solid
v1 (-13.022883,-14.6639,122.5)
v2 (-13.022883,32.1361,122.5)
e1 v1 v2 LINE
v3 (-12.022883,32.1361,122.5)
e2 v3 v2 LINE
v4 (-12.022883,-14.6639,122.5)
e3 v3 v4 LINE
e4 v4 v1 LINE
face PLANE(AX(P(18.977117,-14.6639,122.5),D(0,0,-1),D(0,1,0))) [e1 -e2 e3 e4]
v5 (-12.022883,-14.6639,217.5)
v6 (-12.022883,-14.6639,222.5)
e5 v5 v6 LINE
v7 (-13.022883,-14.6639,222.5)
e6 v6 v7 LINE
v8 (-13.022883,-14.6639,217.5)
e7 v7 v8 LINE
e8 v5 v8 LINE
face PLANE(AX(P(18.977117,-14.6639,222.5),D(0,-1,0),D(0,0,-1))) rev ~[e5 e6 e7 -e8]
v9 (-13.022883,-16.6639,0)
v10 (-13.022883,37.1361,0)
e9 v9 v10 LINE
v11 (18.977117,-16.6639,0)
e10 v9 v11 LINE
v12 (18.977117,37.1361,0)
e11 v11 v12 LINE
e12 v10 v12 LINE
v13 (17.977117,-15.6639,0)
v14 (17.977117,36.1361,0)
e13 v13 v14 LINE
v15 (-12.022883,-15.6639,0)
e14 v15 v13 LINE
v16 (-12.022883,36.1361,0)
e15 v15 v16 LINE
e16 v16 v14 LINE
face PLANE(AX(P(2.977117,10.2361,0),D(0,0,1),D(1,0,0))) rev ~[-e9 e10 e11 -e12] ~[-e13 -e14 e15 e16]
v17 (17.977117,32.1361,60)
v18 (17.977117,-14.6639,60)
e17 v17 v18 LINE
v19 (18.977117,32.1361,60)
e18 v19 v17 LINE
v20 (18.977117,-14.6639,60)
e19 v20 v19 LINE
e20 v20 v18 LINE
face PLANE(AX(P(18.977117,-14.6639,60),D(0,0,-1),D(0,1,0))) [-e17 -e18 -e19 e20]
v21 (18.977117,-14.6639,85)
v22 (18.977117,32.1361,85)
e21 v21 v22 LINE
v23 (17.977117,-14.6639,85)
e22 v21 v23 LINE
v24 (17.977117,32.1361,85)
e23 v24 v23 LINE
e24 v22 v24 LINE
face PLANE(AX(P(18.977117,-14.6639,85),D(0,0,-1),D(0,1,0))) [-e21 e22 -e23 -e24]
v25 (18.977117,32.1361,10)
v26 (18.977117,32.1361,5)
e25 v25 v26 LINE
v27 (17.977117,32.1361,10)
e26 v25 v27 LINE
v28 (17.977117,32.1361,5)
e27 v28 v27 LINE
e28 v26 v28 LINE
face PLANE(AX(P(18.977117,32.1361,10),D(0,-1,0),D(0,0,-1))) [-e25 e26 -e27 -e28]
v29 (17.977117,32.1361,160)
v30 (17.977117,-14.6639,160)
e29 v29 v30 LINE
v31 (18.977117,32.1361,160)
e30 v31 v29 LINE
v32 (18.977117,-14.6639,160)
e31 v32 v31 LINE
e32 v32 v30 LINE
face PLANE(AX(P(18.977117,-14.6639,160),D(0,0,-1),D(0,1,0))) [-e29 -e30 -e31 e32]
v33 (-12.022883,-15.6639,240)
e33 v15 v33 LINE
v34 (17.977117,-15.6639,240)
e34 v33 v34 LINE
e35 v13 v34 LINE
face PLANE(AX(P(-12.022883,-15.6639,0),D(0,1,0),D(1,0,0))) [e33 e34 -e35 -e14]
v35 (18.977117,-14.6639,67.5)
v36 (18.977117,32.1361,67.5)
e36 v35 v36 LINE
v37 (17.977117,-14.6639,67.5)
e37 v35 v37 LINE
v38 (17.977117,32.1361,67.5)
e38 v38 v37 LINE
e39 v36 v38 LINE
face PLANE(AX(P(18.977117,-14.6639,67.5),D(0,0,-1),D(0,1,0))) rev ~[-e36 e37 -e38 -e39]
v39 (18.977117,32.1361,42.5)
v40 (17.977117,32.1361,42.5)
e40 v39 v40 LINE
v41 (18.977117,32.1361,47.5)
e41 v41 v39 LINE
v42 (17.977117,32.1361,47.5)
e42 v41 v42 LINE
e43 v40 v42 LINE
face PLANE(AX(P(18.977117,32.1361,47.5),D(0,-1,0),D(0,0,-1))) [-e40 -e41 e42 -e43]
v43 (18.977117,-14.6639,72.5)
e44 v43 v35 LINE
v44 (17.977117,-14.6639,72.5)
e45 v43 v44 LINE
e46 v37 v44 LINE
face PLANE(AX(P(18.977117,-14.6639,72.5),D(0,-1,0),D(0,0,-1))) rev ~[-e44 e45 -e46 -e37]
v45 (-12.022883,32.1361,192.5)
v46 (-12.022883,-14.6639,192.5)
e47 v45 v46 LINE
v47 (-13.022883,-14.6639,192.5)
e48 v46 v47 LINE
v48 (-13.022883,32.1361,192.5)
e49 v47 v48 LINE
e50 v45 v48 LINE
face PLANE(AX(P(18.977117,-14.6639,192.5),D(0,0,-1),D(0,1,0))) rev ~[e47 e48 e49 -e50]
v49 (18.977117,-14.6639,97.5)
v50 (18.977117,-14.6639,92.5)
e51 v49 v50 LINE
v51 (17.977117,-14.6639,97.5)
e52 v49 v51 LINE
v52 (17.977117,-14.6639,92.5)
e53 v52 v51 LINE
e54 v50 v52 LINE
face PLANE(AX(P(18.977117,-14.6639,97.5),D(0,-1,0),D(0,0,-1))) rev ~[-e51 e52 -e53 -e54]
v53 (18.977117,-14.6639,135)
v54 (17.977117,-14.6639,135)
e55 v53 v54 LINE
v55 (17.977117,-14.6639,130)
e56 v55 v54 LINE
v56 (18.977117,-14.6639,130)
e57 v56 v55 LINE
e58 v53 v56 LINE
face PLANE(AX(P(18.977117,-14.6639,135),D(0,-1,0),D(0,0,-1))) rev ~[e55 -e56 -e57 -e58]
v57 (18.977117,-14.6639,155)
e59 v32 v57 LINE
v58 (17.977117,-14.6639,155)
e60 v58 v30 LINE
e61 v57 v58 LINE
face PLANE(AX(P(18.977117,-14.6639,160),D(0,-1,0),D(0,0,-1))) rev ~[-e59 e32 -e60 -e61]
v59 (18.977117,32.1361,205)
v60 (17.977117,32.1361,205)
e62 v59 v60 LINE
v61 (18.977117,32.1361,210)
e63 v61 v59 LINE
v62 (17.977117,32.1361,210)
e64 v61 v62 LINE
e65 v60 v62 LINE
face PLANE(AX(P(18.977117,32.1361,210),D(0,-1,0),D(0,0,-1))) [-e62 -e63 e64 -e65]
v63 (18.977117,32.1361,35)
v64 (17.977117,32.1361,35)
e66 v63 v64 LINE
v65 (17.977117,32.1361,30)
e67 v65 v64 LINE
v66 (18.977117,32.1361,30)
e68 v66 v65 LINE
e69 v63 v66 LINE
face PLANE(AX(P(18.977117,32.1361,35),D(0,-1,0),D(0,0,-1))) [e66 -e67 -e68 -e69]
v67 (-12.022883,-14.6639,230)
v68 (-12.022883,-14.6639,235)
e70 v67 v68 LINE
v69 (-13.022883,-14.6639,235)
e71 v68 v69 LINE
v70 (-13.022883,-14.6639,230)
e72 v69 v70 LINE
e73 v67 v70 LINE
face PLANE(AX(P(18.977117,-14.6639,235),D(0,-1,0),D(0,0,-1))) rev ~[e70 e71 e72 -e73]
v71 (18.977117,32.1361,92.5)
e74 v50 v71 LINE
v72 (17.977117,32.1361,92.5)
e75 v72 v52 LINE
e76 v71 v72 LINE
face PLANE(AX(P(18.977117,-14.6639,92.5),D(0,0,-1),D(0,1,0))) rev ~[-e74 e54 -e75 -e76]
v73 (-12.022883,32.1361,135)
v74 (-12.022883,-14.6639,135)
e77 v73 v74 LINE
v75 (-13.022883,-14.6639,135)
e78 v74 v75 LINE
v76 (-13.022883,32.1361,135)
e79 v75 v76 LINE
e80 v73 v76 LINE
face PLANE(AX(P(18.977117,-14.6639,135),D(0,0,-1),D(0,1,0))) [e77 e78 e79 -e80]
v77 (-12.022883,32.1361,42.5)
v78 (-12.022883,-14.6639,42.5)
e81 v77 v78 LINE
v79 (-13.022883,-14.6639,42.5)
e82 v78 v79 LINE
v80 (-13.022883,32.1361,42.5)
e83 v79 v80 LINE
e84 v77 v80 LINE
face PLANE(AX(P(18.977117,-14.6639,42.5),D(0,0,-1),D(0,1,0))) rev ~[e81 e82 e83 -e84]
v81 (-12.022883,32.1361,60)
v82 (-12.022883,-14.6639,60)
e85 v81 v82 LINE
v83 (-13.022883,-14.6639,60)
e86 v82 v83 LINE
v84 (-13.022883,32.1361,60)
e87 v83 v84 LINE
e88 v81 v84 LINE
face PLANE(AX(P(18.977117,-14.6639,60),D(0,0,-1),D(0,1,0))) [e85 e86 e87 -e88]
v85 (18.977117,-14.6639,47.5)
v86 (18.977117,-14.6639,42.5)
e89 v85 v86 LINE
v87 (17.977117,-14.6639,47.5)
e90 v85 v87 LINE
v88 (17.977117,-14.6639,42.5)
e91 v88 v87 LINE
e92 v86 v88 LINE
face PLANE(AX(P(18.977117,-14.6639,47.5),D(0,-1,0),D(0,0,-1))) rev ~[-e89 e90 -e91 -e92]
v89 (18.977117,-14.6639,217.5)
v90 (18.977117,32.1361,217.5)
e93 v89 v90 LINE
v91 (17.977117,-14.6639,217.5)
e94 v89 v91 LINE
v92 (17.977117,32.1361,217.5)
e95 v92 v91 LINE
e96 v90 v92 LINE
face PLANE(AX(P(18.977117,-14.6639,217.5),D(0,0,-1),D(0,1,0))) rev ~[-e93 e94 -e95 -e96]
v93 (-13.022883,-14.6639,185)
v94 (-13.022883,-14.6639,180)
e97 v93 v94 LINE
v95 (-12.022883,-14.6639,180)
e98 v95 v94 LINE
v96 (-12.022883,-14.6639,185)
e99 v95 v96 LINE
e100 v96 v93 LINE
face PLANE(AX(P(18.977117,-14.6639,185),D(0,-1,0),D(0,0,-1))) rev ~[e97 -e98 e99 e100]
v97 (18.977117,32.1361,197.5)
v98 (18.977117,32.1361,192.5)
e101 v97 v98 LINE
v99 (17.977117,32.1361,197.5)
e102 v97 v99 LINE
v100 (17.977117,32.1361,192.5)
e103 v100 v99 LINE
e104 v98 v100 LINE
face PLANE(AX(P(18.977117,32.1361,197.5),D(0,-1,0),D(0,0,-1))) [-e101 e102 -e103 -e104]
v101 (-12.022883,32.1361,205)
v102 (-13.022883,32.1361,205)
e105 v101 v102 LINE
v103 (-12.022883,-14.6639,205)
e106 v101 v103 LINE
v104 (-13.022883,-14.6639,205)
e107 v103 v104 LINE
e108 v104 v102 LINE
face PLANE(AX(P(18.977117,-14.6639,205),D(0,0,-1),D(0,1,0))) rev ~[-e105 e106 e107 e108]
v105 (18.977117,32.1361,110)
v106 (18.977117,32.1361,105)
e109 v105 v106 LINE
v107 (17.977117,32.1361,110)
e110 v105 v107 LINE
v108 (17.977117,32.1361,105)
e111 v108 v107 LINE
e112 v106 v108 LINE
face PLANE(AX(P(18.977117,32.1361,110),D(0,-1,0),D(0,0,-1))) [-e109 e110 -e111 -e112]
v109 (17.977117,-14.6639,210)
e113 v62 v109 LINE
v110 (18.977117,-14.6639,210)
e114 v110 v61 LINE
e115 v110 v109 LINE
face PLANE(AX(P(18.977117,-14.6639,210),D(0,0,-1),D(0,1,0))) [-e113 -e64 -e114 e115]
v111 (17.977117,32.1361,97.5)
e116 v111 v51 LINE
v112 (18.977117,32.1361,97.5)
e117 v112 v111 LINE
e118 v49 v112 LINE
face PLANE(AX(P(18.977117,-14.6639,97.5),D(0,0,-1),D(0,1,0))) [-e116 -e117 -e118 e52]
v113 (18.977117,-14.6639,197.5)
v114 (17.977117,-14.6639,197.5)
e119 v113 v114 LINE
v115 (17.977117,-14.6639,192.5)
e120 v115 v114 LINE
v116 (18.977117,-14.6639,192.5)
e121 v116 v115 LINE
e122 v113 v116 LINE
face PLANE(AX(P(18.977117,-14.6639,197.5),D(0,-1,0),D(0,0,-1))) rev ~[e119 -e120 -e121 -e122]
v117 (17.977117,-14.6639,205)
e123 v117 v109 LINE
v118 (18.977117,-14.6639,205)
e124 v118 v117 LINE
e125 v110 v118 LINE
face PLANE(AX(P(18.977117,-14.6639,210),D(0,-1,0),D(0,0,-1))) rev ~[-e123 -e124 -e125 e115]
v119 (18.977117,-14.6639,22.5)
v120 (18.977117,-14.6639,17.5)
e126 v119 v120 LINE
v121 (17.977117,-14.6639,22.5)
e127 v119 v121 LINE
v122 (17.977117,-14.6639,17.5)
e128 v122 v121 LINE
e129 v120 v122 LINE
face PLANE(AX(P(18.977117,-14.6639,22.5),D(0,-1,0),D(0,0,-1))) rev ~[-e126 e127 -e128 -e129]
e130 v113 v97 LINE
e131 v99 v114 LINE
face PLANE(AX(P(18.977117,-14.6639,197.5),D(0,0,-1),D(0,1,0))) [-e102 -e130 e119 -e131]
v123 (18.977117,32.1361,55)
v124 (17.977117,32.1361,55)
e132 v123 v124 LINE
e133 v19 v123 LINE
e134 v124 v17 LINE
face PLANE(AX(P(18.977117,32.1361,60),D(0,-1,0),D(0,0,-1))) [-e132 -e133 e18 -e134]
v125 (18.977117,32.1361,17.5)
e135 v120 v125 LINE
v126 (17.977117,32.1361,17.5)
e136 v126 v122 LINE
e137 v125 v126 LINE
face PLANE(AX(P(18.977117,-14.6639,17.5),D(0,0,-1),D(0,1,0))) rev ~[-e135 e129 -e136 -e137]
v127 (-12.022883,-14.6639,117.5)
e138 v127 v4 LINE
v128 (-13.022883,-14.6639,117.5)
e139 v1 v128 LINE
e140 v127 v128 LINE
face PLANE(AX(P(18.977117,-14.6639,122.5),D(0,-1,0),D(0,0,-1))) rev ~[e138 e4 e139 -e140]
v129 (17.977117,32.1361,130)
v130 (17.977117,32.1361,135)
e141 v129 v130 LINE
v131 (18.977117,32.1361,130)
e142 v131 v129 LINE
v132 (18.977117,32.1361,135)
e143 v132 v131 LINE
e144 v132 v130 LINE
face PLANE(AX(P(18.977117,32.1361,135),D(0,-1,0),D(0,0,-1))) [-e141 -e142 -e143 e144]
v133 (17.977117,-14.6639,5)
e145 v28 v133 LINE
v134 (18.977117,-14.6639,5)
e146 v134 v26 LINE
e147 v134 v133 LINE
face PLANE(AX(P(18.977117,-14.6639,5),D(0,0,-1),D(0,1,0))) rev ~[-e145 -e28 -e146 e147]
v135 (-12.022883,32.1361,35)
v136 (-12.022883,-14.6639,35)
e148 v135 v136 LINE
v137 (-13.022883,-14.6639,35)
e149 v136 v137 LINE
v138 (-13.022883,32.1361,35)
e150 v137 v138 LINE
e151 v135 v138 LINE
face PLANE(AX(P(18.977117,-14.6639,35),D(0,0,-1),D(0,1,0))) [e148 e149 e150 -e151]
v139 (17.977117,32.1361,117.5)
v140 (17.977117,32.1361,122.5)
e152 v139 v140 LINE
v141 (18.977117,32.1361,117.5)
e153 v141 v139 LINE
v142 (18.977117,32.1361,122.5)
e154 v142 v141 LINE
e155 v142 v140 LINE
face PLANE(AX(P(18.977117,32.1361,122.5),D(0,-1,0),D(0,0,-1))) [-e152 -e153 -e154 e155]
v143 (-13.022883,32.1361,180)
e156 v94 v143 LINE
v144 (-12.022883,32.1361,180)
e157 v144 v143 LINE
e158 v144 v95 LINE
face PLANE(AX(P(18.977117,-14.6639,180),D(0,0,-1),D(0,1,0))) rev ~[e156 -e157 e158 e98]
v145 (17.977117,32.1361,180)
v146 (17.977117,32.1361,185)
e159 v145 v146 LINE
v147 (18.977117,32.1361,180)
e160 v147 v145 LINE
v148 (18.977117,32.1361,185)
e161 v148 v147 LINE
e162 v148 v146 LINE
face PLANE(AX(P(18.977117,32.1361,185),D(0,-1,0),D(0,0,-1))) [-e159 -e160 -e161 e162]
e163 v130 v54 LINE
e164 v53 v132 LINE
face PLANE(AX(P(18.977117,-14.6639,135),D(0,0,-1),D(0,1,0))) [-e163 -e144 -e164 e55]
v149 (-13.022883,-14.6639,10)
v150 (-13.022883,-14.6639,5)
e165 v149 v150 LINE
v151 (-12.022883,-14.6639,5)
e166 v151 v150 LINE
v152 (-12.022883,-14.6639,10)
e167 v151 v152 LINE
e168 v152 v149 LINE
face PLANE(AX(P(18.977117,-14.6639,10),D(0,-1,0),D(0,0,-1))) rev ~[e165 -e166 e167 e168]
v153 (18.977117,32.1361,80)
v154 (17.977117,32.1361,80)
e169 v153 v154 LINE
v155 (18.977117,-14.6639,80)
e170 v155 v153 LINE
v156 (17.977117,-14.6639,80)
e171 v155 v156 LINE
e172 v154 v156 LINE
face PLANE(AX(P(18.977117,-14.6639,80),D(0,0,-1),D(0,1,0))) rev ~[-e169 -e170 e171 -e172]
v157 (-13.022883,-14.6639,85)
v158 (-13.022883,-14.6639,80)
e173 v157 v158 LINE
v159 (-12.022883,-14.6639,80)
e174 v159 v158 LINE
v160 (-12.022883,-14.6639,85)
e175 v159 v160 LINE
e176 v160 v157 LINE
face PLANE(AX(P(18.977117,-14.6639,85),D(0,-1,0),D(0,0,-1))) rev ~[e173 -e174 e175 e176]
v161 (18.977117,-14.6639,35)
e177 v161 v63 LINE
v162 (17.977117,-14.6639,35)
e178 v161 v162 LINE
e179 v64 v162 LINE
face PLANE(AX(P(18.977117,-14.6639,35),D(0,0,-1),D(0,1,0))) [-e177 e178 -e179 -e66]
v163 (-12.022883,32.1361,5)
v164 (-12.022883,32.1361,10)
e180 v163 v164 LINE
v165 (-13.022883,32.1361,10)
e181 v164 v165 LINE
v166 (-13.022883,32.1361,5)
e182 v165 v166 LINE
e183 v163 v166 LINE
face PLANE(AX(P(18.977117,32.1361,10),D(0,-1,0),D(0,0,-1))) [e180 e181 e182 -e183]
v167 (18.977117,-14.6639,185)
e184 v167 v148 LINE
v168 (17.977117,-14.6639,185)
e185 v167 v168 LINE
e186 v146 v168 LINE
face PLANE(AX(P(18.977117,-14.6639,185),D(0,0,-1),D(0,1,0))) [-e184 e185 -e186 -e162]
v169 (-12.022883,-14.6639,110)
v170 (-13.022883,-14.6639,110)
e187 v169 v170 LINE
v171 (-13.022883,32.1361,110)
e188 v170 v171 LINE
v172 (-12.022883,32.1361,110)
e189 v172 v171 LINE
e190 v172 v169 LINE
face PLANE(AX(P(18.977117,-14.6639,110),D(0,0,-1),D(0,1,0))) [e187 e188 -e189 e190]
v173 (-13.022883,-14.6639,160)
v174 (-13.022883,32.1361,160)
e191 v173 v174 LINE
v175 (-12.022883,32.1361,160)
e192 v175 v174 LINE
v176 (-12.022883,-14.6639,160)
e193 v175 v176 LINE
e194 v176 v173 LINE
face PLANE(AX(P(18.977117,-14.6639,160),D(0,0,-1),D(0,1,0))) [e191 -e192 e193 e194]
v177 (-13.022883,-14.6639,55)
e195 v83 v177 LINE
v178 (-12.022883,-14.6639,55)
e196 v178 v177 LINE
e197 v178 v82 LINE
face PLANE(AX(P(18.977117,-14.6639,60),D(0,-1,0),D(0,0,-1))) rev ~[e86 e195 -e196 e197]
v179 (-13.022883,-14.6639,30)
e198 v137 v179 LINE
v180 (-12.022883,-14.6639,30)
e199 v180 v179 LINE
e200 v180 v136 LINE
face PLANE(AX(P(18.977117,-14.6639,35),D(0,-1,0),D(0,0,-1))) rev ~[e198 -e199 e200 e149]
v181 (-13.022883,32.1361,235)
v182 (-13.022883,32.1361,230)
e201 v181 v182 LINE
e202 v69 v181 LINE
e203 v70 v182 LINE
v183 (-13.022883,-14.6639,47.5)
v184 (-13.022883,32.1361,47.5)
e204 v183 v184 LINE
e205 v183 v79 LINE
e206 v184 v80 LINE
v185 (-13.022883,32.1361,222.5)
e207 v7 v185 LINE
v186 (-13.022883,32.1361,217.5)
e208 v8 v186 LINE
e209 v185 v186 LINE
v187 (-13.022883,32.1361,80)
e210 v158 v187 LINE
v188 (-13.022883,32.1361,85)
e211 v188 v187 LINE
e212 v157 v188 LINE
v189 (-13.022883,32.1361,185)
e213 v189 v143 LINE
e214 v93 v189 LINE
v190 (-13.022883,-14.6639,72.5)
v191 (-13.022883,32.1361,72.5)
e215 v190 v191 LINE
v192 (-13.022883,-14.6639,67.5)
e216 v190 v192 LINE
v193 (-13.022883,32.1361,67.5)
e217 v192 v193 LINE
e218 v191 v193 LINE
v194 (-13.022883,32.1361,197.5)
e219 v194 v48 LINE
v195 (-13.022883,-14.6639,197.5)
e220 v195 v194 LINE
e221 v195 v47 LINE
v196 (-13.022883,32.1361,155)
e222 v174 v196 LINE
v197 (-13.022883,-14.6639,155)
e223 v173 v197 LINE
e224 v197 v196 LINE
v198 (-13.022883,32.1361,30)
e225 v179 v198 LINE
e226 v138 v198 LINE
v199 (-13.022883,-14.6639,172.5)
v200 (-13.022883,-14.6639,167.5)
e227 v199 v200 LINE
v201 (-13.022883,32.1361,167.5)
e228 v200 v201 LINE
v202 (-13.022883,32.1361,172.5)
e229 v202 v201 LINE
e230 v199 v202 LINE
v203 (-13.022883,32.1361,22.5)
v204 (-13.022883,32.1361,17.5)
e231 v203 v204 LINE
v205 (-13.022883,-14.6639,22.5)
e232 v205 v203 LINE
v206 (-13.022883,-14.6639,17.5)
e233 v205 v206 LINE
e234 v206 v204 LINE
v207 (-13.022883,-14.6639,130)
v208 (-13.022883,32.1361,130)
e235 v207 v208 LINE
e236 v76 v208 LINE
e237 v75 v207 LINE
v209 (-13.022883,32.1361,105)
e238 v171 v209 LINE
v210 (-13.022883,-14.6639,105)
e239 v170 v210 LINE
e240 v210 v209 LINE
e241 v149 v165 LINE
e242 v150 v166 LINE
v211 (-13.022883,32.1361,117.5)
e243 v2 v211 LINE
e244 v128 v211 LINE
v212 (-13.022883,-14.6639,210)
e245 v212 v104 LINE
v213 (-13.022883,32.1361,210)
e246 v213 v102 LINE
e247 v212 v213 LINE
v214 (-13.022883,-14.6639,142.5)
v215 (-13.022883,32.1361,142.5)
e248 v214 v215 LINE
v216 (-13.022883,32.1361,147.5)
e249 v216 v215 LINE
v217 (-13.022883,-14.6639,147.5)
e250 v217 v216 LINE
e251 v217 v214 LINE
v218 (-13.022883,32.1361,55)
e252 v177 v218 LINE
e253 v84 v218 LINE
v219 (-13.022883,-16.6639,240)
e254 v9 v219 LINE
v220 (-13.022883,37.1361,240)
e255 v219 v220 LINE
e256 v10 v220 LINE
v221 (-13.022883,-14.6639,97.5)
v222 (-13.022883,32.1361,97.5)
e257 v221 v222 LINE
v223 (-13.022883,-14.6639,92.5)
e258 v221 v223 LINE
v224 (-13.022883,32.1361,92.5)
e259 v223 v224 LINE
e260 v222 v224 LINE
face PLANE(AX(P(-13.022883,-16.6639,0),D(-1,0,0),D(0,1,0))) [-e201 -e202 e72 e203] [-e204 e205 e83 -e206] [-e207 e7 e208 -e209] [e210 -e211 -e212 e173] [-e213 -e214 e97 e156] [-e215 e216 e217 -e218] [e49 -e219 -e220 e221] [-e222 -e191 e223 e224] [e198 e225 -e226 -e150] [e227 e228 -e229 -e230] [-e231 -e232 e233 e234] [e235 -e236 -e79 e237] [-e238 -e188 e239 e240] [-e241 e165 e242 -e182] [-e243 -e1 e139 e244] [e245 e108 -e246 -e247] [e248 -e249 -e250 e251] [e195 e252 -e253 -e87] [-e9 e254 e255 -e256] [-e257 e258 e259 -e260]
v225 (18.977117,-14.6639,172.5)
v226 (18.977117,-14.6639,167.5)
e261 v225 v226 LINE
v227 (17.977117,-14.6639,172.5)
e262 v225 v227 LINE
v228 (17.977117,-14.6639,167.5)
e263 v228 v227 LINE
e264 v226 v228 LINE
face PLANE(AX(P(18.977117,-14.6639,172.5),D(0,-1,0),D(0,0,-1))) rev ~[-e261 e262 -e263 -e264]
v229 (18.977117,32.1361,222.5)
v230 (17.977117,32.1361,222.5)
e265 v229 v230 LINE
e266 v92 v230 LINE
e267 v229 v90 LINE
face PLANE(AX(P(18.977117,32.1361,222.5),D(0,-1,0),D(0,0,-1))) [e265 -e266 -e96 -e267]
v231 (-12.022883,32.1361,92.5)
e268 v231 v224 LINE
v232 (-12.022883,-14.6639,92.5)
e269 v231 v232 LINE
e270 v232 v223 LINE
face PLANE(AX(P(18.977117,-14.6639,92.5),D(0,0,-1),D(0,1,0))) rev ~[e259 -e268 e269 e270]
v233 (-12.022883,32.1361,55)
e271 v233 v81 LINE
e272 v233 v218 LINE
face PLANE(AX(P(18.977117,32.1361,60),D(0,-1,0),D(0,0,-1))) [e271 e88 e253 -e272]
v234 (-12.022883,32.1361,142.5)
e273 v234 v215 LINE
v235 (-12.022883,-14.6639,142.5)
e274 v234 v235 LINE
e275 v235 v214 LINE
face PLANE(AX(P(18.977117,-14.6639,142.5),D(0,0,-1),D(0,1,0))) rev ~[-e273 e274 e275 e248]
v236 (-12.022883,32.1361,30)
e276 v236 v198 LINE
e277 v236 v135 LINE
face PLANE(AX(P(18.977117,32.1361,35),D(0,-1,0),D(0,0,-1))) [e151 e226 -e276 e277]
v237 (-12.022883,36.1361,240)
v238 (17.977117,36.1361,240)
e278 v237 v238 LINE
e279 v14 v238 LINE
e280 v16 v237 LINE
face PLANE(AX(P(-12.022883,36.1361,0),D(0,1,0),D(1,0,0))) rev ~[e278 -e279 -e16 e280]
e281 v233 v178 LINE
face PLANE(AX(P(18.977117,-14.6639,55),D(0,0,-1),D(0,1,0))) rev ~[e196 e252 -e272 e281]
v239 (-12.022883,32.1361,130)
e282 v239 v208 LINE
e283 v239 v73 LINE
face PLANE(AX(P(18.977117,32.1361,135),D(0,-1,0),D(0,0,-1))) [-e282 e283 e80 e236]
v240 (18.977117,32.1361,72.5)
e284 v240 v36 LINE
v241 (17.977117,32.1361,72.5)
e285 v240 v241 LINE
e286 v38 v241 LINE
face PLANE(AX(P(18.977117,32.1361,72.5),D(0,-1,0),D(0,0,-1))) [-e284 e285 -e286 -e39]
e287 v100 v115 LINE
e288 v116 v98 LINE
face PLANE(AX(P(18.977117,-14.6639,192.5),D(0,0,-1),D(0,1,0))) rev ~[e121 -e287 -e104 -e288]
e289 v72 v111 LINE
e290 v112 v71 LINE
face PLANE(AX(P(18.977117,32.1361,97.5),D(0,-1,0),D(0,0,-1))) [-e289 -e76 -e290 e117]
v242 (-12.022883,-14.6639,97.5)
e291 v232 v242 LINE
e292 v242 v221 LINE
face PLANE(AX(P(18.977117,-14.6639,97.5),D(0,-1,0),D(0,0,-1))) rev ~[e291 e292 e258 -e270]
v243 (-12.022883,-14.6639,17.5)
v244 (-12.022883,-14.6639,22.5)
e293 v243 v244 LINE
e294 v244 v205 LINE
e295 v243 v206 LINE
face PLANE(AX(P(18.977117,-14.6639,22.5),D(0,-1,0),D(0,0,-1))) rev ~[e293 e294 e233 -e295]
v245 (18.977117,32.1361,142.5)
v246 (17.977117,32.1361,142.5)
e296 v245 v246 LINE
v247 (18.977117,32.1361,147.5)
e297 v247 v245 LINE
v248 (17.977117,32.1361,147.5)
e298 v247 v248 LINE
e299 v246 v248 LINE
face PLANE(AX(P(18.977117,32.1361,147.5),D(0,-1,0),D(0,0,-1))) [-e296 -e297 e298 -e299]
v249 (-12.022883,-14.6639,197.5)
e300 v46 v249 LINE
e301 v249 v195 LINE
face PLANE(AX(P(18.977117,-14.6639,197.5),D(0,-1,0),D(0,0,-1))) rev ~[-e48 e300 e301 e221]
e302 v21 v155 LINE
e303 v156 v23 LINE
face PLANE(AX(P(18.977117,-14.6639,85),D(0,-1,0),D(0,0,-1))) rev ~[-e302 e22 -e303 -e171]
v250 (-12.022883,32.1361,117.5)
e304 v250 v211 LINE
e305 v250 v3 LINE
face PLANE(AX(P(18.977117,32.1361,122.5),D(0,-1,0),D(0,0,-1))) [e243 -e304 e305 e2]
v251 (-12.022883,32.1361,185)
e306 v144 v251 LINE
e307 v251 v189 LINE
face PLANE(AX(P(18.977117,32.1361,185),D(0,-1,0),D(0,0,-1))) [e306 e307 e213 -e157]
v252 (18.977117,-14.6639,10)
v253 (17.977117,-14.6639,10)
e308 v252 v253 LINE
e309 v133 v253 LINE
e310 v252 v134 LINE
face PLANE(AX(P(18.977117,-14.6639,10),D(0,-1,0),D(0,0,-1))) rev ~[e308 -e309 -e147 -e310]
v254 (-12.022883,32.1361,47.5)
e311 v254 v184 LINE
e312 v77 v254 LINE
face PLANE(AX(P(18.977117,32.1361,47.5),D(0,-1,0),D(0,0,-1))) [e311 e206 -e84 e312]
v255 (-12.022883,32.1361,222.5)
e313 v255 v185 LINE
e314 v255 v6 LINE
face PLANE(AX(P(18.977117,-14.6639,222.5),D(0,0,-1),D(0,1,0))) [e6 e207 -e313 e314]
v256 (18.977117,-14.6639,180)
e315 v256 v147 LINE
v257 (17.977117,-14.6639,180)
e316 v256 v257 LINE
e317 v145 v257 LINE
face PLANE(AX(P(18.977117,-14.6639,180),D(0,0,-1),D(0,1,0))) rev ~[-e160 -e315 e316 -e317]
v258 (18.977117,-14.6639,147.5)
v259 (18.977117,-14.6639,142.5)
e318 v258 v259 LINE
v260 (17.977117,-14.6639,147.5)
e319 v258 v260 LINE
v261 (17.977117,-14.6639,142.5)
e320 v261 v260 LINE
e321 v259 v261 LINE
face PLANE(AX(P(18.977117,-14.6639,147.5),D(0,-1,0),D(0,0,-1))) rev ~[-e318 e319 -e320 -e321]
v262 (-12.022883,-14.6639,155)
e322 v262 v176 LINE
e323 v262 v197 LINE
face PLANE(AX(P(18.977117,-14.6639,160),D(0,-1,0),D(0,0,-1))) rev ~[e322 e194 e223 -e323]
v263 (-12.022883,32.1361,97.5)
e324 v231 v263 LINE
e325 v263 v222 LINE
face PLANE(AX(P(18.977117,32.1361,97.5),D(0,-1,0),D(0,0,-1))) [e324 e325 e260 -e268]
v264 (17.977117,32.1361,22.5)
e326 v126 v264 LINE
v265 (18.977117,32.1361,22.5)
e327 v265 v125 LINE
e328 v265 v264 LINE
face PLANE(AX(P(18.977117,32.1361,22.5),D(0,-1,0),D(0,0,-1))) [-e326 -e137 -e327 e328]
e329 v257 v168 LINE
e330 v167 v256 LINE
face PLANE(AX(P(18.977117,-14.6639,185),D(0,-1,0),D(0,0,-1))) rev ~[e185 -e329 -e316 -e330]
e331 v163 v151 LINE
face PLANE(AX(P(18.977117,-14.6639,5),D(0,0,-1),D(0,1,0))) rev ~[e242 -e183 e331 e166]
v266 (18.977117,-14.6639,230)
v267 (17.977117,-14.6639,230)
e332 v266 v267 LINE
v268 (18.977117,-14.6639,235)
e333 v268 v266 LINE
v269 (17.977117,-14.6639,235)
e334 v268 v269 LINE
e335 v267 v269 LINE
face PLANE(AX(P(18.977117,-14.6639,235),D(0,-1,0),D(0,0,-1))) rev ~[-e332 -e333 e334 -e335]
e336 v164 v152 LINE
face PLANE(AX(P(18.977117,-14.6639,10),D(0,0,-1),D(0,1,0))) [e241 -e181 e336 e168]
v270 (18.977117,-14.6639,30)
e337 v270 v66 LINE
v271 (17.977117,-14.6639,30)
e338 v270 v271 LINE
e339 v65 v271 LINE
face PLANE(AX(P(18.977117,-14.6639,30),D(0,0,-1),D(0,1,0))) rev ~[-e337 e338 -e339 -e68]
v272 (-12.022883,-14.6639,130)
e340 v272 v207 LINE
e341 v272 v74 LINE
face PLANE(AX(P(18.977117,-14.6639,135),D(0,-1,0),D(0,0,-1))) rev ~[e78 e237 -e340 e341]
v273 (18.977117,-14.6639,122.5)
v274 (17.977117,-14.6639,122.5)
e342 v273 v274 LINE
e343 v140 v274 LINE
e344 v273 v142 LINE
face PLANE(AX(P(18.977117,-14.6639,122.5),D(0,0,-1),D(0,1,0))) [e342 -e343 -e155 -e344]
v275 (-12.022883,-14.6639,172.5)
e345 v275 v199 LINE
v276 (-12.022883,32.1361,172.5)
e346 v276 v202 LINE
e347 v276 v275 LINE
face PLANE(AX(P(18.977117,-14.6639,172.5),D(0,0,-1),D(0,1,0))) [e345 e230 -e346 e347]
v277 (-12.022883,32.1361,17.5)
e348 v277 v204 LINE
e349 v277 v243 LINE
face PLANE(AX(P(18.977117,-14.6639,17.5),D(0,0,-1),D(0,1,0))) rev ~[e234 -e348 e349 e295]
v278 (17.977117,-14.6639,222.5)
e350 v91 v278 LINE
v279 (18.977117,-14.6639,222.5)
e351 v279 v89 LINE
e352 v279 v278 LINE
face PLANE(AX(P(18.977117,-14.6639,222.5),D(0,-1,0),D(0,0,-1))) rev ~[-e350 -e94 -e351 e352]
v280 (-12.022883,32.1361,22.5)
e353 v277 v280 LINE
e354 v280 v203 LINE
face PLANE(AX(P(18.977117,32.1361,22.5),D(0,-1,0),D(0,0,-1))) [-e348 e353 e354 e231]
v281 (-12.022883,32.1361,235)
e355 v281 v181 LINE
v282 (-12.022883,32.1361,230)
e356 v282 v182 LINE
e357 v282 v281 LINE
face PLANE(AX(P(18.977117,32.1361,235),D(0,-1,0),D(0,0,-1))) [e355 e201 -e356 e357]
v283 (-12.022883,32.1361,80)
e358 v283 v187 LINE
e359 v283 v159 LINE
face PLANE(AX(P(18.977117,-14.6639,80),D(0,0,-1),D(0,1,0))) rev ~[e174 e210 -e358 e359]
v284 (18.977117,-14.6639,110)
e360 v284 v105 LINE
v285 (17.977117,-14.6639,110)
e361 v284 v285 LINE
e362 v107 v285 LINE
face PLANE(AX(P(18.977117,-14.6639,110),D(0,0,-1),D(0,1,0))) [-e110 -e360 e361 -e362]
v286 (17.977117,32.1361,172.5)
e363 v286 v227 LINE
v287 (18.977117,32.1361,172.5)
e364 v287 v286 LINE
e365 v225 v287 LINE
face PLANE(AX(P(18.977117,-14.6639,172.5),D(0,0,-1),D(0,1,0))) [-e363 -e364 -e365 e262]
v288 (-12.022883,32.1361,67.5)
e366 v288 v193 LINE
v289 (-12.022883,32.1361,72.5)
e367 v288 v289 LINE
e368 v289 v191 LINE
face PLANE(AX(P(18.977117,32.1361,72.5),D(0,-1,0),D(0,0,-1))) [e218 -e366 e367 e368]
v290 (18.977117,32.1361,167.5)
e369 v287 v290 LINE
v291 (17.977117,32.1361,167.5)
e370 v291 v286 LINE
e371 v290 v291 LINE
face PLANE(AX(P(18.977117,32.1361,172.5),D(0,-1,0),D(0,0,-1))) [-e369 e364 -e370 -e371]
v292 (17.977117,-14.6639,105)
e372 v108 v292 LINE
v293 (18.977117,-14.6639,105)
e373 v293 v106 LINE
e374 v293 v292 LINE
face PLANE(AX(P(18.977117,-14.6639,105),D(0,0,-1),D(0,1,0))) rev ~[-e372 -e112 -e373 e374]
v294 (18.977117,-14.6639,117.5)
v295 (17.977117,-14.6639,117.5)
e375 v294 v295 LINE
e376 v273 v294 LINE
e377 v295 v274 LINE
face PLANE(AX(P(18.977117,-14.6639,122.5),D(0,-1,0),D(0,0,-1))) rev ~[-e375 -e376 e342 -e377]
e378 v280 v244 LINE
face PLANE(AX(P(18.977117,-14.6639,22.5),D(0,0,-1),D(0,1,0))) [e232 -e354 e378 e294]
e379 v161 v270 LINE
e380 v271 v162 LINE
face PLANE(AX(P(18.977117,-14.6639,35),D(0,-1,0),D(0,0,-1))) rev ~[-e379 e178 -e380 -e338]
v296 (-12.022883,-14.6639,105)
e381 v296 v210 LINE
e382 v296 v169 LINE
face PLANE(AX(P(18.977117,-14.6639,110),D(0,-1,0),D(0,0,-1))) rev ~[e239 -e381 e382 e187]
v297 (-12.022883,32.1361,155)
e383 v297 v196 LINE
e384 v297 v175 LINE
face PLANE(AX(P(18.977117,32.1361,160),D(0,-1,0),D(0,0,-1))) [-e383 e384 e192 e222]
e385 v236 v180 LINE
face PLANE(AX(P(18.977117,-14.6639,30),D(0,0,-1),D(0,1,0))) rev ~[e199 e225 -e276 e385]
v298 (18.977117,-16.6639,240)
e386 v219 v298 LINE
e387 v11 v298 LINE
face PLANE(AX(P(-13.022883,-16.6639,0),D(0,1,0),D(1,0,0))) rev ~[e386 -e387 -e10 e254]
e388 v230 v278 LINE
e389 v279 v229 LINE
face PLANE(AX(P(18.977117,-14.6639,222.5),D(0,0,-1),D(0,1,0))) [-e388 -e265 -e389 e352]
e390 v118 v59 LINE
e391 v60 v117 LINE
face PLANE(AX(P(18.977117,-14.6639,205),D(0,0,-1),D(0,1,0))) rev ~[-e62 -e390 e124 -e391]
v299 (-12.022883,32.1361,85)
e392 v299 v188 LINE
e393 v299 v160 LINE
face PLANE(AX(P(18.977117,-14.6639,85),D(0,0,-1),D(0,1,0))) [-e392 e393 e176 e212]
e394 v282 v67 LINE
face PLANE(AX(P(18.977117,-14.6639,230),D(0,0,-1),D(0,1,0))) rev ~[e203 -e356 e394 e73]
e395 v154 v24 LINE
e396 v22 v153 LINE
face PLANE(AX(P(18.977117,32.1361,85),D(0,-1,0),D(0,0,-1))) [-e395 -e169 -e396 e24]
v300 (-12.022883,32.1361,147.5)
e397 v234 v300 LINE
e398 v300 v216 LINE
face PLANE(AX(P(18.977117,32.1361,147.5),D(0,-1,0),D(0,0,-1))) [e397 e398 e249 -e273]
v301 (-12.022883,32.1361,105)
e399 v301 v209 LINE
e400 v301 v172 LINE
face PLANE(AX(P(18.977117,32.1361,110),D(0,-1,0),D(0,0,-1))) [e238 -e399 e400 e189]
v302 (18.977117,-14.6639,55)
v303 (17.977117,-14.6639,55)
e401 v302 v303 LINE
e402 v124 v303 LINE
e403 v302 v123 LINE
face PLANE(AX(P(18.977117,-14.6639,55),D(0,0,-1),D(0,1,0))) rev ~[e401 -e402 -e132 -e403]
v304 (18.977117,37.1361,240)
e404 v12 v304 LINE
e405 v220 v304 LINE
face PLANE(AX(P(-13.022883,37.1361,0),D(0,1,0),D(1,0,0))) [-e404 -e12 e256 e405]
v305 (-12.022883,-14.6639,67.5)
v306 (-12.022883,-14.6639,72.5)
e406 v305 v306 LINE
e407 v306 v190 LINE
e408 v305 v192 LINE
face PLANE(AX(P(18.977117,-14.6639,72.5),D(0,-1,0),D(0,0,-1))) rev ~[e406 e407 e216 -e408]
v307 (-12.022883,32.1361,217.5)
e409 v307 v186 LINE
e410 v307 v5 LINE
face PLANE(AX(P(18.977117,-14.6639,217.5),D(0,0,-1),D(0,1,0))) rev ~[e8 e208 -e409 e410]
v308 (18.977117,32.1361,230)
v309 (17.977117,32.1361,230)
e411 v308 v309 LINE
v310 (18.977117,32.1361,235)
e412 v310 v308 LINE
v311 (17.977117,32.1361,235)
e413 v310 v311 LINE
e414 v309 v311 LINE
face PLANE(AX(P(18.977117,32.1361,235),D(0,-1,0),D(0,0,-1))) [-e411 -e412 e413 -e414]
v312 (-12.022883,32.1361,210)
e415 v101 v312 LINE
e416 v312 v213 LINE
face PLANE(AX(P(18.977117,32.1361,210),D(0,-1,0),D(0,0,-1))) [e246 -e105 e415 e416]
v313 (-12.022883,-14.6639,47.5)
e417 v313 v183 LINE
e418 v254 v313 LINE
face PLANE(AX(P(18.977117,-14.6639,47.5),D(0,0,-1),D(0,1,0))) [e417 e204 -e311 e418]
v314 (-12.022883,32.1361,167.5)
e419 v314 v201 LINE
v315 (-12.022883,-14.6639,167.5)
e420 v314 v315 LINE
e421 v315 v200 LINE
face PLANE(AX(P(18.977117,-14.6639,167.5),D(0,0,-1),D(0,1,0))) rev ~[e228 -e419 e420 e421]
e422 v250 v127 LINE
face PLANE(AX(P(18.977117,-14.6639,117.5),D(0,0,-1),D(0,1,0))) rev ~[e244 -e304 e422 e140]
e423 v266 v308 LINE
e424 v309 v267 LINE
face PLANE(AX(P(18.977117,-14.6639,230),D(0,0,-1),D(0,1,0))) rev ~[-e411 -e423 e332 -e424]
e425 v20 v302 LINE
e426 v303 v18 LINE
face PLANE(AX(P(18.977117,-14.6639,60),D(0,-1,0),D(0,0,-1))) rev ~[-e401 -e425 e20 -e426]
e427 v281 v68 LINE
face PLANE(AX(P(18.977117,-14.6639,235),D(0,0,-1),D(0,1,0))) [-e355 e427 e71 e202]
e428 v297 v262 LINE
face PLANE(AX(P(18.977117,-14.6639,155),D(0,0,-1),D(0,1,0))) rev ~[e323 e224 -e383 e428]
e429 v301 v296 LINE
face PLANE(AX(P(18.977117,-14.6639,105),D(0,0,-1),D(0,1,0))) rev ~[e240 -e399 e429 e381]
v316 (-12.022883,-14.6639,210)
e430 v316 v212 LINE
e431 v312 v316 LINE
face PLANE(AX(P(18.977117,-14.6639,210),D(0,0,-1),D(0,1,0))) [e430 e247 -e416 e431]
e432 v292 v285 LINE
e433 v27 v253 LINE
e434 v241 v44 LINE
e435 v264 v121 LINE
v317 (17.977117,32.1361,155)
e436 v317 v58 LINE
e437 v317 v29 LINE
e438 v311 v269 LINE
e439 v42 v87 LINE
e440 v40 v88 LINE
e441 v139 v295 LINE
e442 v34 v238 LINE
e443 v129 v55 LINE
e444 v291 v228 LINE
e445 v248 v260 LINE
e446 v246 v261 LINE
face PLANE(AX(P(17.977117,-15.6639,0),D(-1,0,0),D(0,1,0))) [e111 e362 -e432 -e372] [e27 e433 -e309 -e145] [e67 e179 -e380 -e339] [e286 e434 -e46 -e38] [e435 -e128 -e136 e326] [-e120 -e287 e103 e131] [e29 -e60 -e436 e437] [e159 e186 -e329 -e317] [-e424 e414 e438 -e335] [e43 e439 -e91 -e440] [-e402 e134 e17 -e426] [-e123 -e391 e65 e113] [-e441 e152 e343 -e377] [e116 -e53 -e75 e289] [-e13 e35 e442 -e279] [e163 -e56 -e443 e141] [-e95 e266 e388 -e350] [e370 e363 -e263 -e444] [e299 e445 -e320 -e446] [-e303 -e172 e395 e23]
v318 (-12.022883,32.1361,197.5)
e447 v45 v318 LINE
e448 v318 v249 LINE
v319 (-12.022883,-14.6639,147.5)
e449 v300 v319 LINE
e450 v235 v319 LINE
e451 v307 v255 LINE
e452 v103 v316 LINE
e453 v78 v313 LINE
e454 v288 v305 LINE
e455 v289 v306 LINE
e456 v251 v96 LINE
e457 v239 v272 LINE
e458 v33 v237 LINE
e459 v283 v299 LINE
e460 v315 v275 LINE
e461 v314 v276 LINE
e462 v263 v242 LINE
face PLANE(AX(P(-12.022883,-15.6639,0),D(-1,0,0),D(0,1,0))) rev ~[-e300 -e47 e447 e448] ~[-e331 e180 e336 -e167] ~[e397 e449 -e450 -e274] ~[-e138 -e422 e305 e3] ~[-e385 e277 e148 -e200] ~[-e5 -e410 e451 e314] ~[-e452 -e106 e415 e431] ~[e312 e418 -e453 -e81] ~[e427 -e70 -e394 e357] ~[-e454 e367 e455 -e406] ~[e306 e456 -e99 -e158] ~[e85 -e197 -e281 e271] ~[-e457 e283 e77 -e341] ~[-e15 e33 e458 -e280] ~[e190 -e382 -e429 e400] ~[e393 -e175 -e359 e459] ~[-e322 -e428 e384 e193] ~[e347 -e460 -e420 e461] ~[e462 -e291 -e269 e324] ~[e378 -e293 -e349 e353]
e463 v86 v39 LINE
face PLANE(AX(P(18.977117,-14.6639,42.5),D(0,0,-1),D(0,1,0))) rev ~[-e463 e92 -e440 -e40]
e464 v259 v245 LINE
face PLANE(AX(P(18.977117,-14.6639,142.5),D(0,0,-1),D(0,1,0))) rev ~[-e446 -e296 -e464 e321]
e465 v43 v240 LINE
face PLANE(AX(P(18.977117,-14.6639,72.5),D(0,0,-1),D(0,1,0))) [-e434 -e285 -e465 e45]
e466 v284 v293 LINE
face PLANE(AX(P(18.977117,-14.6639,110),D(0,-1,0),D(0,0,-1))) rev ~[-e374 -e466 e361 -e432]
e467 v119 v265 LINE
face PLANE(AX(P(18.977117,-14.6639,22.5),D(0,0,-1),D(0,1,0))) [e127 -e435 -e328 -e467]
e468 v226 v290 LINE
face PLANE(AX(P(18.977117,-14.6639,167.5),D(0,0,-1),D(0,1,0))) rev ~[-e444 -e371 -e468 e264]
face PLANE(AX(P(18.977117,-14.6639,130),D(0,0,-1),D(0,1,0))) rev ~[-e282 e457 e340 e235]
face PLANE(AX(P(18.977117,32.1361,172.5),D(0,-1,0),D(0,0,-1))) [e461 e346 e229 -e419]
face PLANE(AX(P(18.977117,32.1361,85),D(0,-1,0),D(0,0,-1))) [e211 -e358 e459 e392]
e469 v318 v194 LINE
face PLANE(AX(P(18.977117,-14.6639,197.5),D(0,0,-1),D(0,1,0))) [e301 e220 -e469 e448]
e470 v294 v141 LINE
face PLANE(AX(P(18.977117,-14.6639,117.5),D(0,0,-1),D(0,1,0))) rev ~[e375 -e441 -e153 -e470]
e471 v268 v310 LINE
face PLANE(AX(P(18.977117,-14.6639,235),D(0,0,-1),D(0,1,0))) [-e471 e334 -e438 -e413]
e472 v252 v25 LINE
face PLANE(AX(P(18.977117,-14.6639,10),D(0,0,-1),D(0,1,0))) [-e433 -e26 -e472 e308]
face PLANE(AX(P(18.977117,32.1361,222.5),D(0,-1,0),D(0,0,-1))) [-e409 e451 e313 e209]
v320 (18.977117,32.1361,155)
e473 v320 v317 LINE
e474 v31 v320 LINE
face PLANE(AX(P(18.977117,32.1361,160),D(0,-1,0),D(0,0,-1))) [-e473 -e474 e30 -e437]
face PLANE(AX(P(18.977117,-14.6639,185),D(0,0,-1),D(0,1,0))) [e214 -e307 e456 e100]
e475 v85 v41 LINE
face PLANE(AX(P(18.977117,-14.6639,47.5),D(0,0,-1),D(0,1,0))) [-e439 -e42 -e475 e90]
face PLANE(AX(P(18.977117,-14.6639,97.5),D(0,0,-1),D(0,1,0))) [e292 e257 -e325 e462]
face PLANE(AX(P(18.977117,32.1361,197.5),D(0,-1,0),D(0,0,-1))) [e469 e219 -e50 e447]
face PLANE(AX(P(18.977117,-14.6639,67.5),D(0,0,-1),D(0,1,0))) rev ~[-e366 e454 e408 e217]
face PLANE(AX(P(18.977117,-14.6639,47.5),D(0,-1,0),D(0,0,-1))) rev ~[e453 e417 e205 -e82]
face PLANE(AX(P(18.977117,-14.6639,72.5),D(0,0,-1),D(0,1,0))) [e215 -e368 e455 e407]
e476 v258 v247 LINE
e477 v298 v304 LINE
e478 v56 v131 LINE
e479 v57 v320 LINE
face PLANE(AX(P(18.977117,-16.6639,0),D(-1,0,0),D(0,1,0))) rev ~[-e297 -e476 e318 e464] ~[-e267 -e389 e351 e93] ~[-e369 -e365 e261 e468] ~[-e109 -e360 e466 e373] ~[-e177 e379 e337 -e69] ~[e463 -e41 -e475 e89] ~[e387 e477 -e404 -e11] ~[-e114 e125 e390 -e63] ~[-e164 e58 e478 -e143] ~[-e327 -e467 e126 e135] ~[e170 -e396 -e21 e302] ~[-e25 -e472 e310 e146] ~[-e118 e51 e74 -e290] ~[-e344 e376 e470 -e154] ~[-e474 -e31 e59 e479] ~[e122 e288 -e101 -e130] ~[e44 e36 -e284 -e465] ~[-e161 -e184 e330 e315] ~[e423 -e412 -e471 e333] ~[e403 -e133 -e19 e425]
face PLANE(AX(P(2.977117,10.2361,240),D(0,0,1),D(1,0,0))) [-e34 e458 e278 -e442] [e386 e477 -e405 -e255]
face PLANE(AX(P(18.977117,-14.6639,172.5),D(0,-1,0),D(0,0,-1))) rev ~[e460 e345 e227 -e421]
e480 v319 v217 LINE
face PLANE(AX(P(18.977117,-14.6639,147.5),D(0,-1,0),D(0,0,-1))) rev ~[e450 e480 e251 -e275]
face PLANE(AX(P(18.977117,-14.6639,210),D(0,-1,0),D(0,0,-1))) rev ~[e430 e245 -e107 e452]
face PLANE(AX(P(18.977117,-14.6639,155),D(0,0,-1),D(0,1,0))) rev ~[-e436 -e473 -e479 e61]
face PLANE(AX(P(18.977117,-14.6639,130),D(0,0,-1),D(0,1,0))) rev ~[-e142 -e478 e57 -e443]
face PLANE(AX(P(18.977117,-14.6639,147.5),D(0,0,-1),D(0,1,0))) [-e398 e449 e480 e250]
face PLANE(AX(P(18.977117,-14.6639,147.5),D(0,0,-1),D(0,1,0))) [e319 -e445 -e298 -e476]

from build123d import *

# Parameters (mm, degrees)
ESQUISSE1_W                = 32
ESQUISSE1_H                = 53.8
ESQUISSE1_W_2              = 30
ESQUISSE1_H_2              = 51.8
BOSS_EXTRU_1_DEPTH         = 240
ESQUISSE2_W                = 5
ESQUISSE2_H                = 46.8
ENL_V_MAT_EXTRU_1_DEPTH    = 32
R_P_TITION_LIN_AIRE1_COUNT = 19
R_P_TITION_LIN_AIRE1_PITCH = 12.5


with BuildPart() as part:
    # Esquisse1 → Boss.-Extru.1 (new body)
    with BuildSketch(Plane.XY):
        with Locations((2.977116986, 10.236099585)):
            Rectangle(ESQUISSE1_W, ESQUISSE1_H)
        with Locations((2.977116986, 10.236099585)):
            Rectangle(ESQUISSE1_W_2, ESQUISSE1_H_2, mode=Mode.SUBTRACT)
    extrude(amount=BOSS_EXTRU_1_DEPTH)

    # Esquisse2 → Enlèv. mat.-Extru.1 (cut)
    with BuildSketch(Plane(origin=(18.977116986, 0, 0), x_dir=(0, 0, -1), z_dir=(1, 0, 0))):
        with Locations((-7.5, 8.736099585)):
            Rectangle(ESQUISSE2_W, ESQUISSE2_H)
    enl_v_mat_extru_1 = extrude(amount=-ENL_V_MAT_EXTRU_1_DEPTH, mode=Mode.SUBTRACT)

    # Répétition linéaire1: Enlèv. mat.-Extru.1 ×19
    with Locations(*[(0, 0, i * R_P_TITION_LIN_AIRE1_PITCH) for i in range(1, R_P_TITION_LIN_AIRE1_COUNT)]):
        add(enl_v_mat_extru_1, mode=Mode.SUBTRACT)


solid = part.part
